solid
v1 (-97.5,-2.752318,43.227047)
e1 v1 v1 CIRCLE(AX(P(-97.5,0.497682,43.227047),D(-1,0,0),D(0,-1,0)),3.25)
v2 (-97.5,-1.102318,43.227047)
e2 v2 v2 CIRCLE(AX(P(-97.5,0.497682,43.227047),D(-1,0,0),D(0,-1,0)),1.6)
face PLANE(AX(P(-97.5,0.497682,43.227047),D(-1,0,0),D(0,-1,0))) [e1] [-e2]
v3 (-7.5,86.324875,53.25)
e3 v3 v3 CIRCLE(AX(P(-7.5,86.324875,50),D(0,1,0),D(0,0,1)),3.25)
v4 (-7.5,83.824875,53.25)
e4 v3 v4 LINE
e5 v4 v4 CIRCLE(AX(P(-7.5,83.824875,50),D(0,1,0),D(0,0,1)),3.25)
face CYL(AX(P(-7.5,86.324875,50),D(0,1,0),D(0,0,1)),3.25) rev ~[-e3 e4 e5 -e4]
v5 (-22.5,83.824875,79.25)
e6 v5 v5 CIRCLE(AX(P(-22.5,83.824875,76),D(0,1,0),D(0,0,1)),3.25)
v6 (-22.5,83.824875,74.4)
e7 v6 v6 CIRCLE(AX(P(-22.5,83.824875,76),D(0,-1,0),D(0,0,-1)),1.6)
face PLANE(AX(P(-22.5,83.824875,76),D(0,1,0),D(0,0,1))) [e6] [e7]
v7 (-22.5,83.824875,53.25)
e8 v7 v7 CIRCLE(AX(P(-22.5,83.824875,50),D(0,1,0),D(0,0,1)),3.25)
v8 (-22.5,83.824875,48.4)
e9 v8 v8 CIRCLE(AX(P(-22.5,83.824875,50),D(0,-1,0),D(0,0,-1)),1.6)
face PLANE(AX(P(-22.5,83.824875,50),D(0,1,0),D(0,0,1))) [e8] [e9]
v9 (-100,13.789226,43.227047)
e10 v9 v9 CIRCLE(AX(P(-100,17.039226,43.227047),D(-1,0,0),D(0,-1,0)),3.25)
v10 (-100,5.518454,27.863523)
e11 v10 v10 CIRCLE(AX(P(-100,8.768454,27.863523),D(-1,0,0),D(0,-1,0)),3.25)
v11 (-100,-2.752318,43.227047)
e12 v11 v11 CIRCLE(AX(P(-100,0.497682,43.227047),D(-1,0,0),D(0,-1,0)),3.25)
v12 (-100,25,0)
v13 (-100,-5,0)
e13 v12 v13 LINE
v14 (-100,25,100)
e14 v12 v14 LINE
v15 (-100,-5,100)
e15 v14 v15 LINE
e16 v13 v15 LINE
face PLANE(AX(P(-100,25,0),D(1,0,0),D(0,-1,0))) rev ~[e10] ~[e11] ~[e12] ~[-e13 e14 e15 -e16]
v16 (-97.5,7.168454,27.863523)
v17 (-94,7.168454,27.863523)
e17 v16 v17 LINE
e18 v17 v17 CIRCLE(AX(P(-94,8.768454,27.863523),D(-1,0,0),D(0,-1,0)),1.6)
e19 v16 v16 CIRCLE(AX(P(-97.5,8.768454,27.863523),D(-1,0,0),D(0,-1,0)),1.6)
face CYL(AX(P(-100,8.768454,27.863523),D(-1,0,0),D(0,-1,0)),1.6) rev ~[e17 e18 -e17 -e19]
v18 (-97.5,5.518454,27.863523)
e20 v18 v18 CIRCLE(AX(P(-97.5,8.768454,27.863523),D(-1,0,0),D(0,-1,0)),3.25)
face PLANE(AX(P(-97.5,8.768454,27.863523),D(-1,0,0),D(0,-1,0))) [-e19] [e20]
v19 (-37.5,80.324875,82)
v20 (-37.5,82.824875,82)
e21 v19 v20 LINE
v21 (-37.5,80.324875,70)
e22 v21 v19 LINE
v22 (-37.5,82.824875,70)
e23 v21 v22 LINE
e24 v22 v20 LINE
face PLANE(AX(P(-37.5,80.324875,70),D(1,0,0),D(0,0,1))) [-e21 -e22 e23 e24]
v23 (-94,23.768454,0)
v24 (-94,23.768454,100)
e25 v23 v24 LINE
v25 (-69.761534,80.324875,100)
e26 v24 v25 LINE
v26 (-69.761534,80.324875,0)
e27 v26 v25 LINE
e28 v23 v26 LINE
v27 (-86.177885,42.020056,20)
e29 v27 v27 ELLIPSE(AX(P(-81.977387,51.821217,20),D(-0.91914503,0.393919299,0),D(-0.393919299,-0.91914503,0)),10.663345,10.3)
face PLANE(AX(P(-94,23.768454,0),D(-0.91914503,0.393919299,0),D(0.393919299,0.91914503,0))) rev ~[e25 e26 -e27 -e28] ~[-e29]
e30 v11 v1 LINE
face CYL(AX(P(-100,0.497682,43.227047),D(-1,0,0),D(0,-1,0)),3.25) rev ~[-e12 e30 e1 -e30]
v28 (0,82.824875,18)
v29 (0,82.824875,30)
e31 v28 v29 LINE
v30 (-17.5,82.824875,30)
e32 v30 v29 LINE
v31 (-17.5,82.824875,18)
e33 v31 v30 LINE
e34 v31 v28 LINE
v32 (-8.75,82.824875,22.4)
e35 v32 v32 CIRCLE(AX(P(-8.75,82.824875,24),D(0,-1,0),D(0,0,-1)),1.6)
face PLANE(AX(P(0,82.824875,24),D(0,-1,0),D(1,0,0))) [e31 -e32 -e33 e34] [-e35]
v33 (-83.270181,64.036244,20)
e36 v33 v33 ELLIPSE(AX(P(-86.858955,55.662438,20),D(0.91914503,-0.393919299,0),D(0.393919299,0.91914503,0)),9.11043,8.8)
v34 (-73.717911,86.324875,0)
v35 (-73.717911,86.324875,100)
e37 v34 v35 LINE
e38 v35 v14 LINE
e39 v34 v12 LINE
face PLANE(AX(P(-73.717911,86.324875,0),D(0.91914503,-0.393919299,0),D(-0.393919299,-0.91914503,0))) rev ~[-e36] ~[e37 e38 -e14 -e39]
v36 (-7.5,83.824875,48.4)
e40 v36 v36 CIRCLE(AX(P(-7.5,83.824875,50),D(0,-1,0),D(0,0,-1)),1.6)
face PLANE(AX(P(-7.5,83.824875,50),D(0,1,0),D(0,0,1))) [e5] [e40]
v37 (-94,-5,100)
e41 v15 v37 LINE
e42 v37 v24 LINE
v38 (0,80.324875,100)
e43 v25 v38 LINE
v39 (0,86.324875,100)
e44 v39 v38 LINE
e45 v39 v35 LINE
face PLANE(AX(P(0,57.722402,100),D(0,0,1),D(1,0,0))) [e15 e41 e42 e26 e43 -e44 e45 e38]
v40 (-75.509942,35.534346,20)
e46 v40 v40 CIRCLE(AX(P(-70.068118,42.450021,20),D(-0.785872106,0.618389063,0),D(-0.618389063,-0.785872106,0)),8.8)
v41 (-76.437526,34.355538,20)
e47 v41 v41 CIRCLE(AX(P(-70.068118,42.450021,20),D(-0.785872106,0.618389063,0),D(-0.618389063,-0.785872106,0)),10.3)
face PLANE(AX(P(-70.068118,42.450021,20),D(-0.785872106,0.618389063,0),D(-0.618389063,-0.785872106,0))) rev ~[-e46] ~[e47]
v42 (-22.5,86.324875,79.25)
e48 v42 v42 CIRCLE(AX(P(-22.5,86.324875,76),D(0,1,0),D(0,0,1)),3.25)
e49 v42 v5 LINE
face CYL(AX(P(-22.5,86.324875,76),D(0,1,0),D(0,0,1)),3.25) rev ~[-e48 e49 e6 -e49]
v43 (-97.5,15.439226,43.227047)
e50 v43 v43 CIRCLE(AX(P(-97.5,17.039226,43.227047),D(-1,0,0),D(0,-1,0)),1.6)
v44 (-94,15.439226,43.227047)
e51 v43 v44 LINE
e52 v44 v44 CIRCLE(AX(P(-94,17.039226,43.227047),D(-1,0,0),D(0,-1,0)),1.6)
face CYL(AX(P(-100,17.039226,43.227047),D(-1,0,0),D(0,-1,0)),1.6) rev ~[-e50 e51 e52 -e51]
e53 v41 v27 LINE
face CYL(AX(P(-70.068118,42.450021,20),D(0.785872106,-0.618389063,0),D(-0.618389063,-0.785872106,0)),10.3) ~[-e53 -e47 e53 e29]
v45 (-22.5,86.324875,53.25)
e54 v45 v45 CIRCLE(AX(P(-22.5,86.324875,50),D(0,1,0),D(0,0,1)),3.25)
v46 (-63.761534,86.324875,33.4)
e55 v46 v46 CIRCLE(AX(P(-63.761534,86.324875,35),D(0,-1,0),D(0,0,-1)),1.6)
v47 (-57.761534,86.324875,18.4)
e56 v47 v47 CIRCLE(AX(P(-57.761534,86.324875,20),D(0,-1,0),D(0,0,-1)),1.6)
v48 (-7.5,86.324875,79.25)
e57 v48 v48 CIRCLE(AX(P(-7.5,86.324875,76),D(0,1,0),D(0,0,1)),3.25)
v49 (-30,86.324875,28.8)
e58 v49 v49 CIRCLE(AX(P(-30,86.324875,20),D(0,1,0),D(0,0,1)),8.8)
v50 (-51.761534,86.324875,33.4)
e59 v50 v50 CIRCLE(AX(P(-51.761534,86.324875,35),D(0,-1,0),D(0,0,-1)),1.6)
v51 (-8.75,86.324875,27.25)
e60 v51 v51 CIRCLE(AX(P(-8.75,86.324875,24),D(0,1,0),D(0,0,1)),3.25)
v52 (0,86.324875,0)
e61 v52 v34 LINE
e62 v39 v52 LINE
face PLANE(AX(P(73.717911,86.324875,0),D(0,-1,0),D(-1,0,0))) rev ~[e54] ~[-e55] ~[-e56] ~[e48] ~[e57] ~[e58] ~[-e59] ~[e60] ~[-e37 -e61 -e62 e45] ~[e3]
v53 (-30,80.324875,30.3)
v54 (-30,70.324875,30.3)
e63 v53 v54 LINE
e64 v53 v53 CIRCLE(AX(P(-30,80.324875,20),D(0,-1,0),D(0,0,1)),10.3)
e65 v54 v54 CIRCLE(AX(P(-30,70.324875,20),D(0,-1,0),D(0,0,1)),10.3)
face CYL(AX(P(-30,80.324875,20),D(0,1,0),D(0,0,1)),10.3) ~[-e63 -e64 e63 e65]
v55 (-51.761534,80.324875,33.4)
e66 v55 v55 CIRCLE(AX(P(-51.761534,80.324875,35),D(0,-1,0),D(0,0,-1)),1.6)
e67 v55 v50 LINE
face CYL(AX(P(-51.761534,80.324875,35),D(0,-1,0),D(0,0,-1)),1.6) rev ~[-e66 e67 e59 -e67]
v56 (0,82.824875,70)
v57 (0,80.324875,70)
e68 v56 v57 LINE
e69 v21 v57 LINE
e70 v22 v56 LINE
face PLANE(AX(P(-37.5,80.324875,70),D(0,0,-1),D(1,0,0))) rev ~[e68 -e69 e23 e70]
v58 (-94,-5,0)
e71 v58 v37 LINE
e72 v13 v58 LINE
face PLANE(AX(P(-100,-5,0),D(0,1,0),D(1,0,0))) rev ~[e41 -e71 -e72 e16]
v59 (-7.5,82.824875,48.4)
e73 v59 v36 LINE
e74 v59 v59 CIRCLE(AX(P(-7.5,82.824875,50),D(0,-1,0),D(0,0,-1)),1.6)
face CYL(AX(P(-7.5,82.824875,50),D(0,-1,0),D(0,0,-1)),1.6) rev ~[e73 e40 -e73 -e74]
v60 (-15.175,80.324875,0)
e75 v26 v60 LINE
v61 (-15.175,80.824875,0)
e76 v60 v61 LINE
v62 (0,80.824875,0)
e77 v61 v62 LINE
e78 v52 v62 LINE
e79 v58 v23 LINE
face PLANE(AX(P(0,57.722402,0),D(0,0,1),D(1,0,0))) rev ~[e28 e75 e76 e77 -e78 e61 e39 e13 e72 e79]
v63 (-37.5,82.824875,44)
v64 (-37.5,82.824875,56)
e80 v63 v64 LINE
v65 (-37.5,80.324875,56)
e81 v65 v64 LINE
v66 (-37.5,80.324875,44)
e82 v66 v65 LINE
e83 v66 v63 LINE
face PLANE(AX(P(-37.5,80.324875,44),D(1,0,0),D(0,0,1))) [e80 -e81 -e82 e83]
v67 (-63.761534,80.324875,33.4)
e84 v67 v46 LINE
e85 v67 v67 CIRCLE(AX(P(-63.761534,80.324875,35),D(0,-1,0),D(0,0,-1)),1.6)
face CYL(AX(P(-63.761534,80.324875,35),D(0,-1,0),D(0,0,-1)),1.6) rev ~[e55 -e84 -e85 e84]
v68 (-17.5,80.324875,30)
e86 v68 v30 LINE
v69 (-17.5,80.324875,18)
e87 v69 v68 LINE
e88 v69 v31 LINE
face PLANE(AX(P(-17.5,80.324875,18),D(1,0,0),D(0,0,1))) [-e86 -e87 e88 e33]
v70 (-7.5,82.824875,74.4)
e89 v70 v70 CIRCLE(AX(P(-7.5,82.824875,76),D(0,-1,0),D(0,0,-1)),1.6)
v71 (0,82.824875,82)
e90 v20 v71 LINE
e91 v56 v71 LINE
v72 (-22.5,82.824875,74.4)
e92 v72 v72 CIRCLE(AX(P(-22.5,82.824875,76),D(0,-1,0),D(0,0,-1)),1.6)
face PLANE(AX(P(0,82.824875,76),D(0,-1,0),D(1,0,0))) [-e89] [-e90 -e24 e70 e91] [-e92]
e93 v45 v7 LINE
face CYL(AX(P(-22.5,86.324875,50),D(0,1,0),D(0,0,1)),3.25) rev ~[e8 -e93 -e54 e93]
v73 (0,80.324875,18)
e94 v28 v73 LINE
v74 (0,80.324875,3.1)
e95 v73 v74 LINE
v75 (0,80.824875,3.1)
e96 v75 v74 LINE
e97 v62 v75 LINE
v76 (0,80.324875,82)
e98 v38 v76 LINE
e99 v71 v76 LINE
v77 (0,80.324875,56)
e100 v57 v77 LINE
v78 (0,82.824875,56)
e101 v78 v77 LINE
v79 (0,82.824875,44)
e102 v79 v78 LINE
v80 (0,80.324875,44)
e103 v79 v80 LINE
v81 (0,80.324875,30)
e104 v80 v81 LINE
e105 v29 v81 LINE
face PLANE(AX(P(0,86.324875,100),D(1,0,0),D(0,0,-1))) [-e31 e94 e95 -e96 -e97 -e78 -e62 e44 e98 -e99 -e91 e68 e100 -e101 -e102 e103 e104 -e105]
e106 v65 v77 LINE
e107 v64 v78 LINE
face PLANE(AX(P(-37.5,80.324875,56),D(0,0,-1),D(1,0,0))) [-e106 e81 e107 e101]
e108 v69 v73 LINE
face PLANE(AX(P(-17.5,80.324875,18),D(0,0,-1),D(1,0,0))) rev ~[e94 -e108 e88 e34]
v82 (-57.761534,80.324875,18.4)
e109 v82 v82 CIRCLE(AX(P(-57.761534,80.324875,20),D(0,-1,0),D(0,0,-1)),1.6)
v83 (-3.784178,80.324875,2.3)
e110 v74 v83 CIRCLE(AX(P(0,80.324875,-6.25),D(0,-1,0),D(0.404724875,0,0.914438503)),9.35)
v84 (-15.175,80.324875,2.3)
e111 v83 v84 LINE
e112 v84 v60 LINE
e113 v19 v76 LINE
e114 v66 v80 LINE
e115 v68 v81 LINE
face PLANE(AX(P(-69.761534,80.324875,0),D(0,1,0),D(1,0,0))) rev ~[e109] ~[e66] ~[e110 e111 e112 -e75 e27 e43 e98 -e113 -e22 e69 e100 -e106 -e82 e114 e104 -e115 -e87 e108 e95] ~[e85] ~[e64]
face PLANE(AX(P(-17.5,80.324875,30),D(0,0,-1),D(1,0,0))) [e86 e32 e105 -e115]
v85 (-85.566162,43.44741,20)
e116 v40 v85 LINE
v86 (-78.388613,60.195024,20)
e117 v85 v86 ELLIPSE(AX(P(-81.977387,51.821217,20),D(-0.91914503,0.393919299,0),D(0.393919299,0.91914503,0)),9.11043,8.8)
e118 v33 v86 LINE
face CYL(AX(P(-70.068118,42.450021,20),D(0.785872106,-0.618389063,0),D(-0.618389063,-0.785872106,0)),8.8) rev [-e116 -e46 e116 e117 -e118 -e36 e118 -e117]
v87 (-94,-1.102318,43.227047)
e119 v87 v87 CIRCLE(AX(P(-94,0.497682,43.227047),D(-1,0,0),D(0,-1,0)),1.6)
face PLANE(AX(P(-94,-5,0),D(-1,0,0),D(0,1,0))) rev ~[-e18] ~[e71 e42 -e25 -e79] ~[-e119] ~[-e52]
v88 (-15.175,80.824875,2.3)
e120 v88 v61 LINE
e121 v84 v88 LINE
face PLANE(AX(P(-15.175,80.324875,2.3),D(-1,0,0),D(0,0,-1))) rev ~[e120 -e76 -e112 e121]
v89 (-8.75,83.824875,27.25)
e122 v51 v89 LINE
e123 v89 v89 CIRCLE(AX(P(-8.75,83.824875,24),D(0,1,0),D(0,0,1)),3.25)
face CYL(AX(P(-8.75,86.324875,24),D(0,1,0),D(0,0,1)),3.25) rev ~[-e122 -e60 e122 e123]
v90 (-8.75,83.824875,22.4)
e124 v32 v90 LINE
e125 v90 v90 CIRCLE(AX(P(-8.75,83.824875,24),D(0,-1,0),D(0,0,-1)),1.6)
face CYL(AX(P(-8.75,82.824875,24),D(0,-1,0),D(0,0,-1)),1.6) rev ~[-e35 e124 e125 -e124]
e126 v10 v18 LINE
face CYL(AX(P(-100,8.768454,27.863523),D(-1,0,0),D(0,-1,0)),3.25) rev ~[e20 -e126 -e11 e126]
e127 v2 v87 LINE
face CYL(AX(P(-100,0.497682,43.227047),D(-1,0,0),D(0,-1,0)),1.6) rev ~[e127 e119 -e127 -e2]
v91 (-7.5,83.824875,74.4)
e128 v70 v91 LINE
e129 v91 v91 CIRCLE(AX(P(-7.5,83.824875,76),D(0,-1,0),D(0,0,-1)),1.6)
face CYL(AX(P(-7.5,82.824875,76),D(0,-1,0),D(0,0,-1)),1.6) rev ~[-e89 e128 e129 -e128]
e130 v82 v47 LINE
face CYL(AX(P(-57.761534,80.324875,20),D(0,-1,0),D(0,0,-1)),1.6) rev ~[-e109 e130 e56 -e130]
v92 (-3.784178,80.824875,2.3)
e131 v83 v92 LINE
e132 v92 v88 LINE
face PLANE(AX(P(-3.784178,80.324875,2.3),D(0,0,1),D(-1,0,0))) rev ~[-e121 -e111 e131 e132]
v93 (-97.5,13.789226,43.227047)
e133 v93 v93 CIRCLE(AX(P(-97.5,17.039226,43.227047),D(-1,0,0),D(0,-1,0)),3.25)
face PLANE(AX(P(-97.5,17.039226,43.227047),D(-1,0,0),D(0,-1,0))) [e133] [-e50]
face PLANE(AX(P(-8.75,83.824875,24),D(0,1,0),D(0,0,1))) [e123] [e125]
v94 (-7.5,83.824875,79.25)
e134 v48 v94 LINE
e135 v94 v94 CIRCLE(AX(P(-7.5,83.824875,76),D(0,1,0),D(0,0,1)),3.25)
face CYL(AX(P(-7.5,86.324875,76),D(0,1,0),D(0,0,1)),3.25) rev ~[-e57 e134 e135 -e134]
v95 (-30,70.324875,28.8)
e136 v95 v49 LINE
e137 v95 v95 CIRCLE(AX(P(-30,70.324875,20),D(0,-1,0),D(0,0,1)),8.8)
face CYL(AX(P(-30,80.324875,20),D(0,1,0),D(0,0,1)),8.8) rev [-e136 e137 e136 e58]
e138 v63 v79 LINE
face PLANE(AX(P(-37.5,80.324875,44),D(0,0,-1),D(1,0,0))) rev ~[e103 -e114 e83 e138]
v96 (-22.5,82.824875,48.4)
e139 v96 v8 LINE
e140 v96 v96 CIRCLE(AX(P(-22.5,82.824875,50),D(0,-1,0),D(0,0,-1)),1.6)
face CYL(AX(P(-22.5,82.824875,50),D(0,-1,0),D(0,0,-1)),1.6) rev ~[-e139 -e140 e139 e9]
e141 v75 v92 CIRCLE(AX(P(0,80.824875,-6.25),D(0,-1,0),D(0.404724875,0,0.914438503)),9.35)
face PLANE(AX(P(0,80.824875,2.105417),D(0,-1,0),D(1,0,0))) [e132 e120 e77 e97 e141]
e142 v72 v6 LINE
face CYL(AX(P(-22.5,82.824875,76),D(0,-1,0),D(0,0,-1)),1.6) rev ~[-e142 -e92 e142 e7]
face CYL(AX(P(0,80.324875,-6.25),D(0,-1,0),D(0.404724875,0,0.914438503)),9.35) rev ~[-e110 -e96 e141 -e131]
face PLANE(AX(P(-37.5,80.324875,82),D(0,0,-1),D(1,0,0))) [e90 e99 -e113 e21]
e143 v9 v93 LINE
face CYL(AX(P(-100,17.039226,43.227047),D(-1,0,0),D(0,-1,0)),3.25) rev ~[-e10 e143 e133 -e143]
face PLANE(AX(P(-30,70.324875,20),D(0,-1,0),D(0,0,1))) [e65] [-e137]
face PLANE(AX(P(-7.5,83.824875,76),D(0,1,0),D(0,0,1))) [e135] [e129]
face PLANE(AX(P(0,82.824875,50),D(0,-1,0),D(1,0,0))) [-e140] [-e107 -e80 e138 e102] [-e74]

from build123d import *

# Parameters (mm, degrees)
SALIENTE_EXTRUIR1_DEPTH = 100
CORTAR_EXTRUIR1_REACH   = 170.346
CROQUIS3_R              = 8.8
CORTAR_EXTRUIR2_REACH   = 226.945
CROQUIS4_R              = 8.8
CORTAR_EXTRUIR3_DEPTH   = 0.5
CORTAR_EXTRUIR4_REACH   = 241.691
CROQUIS6_R              = 1.6
CROQUIS7_R              = 3.25
CORTAR_EXTRUIR5_DEPTH   = 2.5
CROQUIS8_W              = 75
CROQUIS8_H              = 12
CROQUIS8_W_2            = 35
CORTAR_EXTRUIR6_DEPTH   = 2.5
CORTAR_EXTRUIR7_REACH   = 168.473
CROQUIS9_R              = 1.6
CROQUIS10_R             = 3.25
CORTAR_EXTRUIR8_DEPTH   = 2.5
CROQUIS11_R             = 10.3
CROQUIS11_R_2           = 8.8
SALIENTE_EXTRUIR2_DEPTH = 10
SALIENTE_EXTRUIR3_REACH = 201.802
CROQUIS12_R             = 10.3
CROQUIS12_R_2           = 8.8
CORTAR_EXTRUIR9_REACH   = 167.168
CROQUIS13_R             = 1.6
CROQUIS14_W             = 100
CROQUIS14_H             = 100
CORTAR_EXTRUIR10_DEPTH  = 169.345575526


with BuildPart() as part:
    # Croquis1 → Saliente-Extruir1 (new body)
    with BuildSketch(Plane.XY):
        Polygon((-100, 25), (-100, -5), (-94, -5), (-94, 23.768453788), (-69.761533754, 80.324875029), (69.761533754, 80.324875029), (94, 23.768453788), (94, -5), (100, -5), (100, 25), (73.717910702, 86.324875029), (-73.717910702, 86.324875029), align=None)
    extrude(amount=SALIENTE_EXTRUIR1_DEPTH)

    # Croquis3 → Cortar-Extruir1 (cut, up to next)
    with BuildSketch(Plane(origin=(0, 86.324875029, 0), x_dir=(1, 0, 0), z_dir=(0, 1, 0)), mode=Mode.PRIVATE) as cortar_extruir1_sk1:
        with Locations(Location((-30, -20, 0), (0, 0, 270))):
            Circle(CROQUIS3_R)
    cortar_extruir1_tool1 = extrude(cortar_extruir1_sk1.sketch, amount=-CORTAR_EXTRUIR1_REACH, mode=Mode.PRIVATE) & part.part
    # Croquis3 → Cortar-Extruir1 (cut, up to next)
    with BuildSketch(Plane(origin=(0, 86.324875029, 0), x_dir=(1, 0, 0), z_dir=(0, 1, 0)), mode=Mode.PRIVATE) as cortar_extruir1_sk2:
        with Locations(Location((30, -20, 0), (0, 0, 270))):
            Circle(CROQUIS3_R)
    cortar_extruir1_tool2 = extrude(cortar_extruir1_sk2.sketch, amount=-CORTAR_EXTRUIR1_REACH, mode=Mode.PRIVATE) & part.part
    add(cortar_extruir1_tool1.solids().sort_by_distance((-30, 86.324875, 20))[0], mode=Mode.SUBTRACT)
    add(cortar_extruir1_tool2.solids().sort_by_distance((30, 86.324875, 20))[0], mode=Mode.SUBTRACT)

    # Cortar-Extruir2: up to this plane
    cortar_extruir2_end = Plane(origin=(-94, 23.768453788, 100), z_dir=(-0.9191450300180581, 0.3939192985791672, 0))
    # Croquis4 → Cortar-Extruir2 (cut, up to the surface)
    with BuildSketch(Plane(origin=(-87.479517168, 68.836107355, 0), x_dir=(0, 0, -1), z_dir=(-0.7858721058939679, 0.6183890629512945, 0)), mode=Mode.PRIVATE) as cortar_extruir2_sk1:
        with Locations(Location((-20, 9.96907102, 0), (0, 0, 270))):
            Circle(CROQUIS4_R)
    cortar_extruir2_tool1 = split(extrude(cortar_extruir2_sk1.sketch, amount=-CORTAR_EXTRUIR2_REACH, mode=Mode.PRIVATE), bisect_by=cortar_extruir2_end, keep=Keep.BOTH, mode=Mode.PRIVATE)
    cortar_extruir2 = cortar_extruir2_tool1.solids().sort_by_distance((-93.644282, 61.001693, 20))[0]
    add(cortar_extruir2, mode=Mode.SUBTRACT)

    # Simetría1: Cortar-Extruir2 across plane
    add(cortar_extruir2.mirror(Plane(origin=(0, 0, 0), x_dir=(0, 0, 1), z_dir=(1, 0, 0))), mode=Mode.SUBTRACT)

    # Croquis5 → Cortar-Extruir3 (cut)
    with BuildSketch(Plane.XZ.offset(-80.324875029)):
        with BuildLine():
            Line((14.875, 0), (15.175, 0))
            Line((15.175, 0), (15.175, 2.3))
            Line((15.175, 2.3), (3.784177586, 2.3))
            ThreePointArc((3.784177586, 2.3), (0, 3.1), (-3.784177586, 2.3))
            Line((-3.784177586, 2.3), (-15.175, 2.3))
            Line((-15.175, 2.3), (-15.175, 0))
            Line((-15.175, 0), (-14.875, 0))
            Line((-14.875, 0), (-14.875, 2))
            Line((-14.875, 2), (-3.720215048, 2))
            ThreePointArc((-3.720215048, 2), (0, 2.8), (3.720215048, 2))
            Line((3.720215048, 2), (14.875, 2))
            Line((14.875, 2), (14.875, 0))
        make_face()
        with BuildLine():
            Line((3.261901286, 0), (14.875, 0))
            Line((14.875, 0), (14.875, 2))
            Line((14.875, 2), (3.720215048, 2))
            ThreePointArc((3.720215048, 2), (0, 2.8), (-3.720215048, 2))
            Line((-3.720215048, 2), (-14.875, 2))
            Line((-14.875, 2), (-14.875, 0))
            Line((-14.875, 0), (-3.261901286, 0))
            ThreePointArc((-3.261901286, 0), (0, 0.8), (3.261901286, 0))
        make_face()
        with BuildLine():
            Line((-3.261901286, 0), (3.261901286, 0))
            ThreePointArc((3.261901286, 0), (0, 0.8), (-3.261901286, 0))
        make_face()
    extrude(amount=-CORTAR_EXTRUIR3_DEPTH, mode=Mode.SUBTRACT)

    # Croquis6 → Cortar-Extruir4 (cut, up to next)
    with BuildSketch(Plane.ZY.offset(100), mode=Mode.PRIVATE) as cortar_extruir4_sk1:
        with Locations(Location((43.227046774, 0.497681725, 0), (0, 0, 270))):
            Circle(CROQUIS6_R)
    cortar_extruir4_tool1 = extrude(cortar_extruir4_sk1.sketch, amount=-CORTAR_EXTRUIR4_REACH, mode=Mode.PRIVATE) & part.part
    # Croquis6 → Cortar-Extruir4 (cut, up to next)
    with BuildSketch(Plane.ZY.offset(100), mode=Mode.PRIVATE) as cortar_extruir4_sk2:
        with Locations(Location((27.863523387, 8.768453788, 0), (0, 0, 270))):
            Circle(CROQUIS6_R)
    cortar_extruir4_tool2 = extrude(cortar_extruir4_sk2.sketch, amount=-CORTAR_EXTRUIR4_REACH, mode=Mode.PRIVATE) & part.part
    # Croquis6 → Cortar-Extruir4 (cut, up to next)
    with BuildSketch(Plane.ZY.offset(100), mode=Mode.PRIVATE) as cortar_extruir4_sk3:
        with Locations(Location((43.227046774, 17.039225851, 0), (0, 0, 270))):
            Circle(CROQUIS6_R)
    cortar_extruir4_tool3 = extrude(cortar_extruir4_sk3.sketch, amount=-CORTAR_EXTRUIR4_REACH, mode=Mode.PRIVATE) & part.part
    cortar_extruir4_1 = cortar_extruir4_tool1.solids().sort_by_distance((-100, 0.497682, 43.227047))[0]
    add(cortar_extruir4_1, mode=Mode.SUBTRACT)
    cortar_extruir4_2 = cortar_extruir4_tool2.solids().sort_by_distance((-100, 8.768454, 27.863523))[0]
    add(cortar_extruir4_2, mode=Mode.SUBTRACT)
    cortar_extruir4_3 = cortar_extruir4_tool3.solids().sort_by_distance((-100, 17.039226, 43.227047))[0]
    add(cortar_extruir4_3, mode=Mode.SUBTRACT)
    cortar_extruir4 = cortar_extruir4_1 + cortar_extruir4_2 + cortar_extruir4_3  # Cortar-Extruir4 as one shape, for the pattern or mirror that repeats it

    # Croquis7 → Cortar-Extruir5 (cut)
    with BuildSketch(Plane.ZY.offset(100)):
        with Locations(Location((27.863523387, 8.768453788, 0), (0, 0, 270))):
            Circle(CROQUIS7_R)
        with Locations(Location((43.227046774, 0.497681725, 0), (0, 0, 270))):
            Circle(CROQUIS7_R)
        with Locations(Location((43.227046774, 17.039225851, 0), (0, 0, 270))):
            Circle(CROQUIS7_R)
    cortar_extruir5 = extrude(amount=-CORTAR_EXTRUIR5_DEPTH, mode=Mode.SUBTRACT)

    # Simetría2: Cortar-Extruir4, Cortar-Extruir5 across plane
    add(cortar_extruir4.mirror(Plane(origin=(0, 0, 0), x_dir=(0, 0, 1), z_dir=(1, 0, 0))), mode=Mode.SUBTRACT)
    add(cortar_extruir5.mirror(Plane(origin=(0, 0, 0), x_dir=(0, 0, 1), z_dir=(1, 0, 0))), mode=Mode.SUBTRACT)

    # Croquis8 → Cortar-Extruir6 (cut)
    with BuildSketch(Plane.XZ.offset(-80.324875029)):
        with Locations((0, 76)):
            Rectangle(CROQUIS8_W, CROQUIS8_H)
        with Locations((0, 50)):
            Rectangle(CROQUIS8_W, CROQUIS8_H)
        with Locations((0, 24)):
            Rectangle(CROQUIS8_W_2, CROQUIS8_H)
    extrude(amount=-CORTAR_EXTRUIR6_DEPTH, mode=Mode.SUBTRACT)

    # Croquis9 → Cortar-Extruir7 (cut, up to next)
    with BuildSketch(Plane.XZ.offset(-82.824875029), mode=Mode.PRIVATE) as cortar_extruir7_sk1:
        with Locations(Location((-22.5, 76, 0), (0, 0, 270))):
            Circle(CROQUIS9_R)
    cortar_extruir7_tool1 = extrude(cortar_extruir7_sk1.sketch, amount=-CORTAR_EXTRUIR7_REACH, mode=Mode.PRIVATE) & part.part
    # Croquis9 → Cortar-Extruir7 (cut, up to next)
    with BuildSketch(Plane.XZ.offset(-82.824875029), mode=Mode.PRIVATE) as cortar_extruir7_sk2:
        with Locations(Location((-7.5, 76, 0), (0, 0, 270))):
            Circle(CROQUIS9_R)
    cortar_extruir7_tool2 = extrude(cortar_extruir7_sk2.sketch, amount=-CORTAR_EXTRUIR7_REACH, mode=Mode.PRIVATE) & part.part
    # Croquis9 → Cortar-Extruir7 (cut, up to next)
    with BuildSketch(Plane.XZ.offset(-82.824875029), mode=Mode.PRIVATE) as cortar_extruir7_sk3:
        with Locations(Location((7.5, 76, 0), (0, 0, 270))):
            Circle(CROQUIS9_R)
    cortar_extruir7_tool3 = extrude(cortar_extruir7_sk3.sketch, amount=-CORTAR_EXTRUIR7_REACH, mode=Mode.PRIVATE) & part.part
    # Croquis9 → Cortar-Extruir7 (cut, up to next)
    with BuildSketch(Plane.XZ.offset(-82.824875029), mode=Mode.PRIVATE) as cortar_extruir7_sk4:
        with Locations(Location((22.5, 76, 0), (0, 0, 270))):
            Circle(CROQUIS9_R)
    cortar_extruir7_tool4 = extrude(cortar_extruir7_sk4.sketch, amount=-CORTAR_EXTRUIR7_REACH, mode=Mode.PRIVATE) & part.part
    # Croquis9 → Cortar-Extruir7 (cut, up to next)
    with BuildSketch(Plane.XZ.offset(-82.824875029), mode=Mode.PRIVATE) as cortar_extruir7_sk5:
        with Locations(Location((-22.5, 50, 0), (0, 0, 270))):
            Circle(CROQUIS9_R)
    cortar_extruir7_tool5 = extrude(cortar_extruir7_sk5.sketch, amount=-CORTAR_EXTRUIR7_REACH, mode=Mode.PRIVATE) & part.part
    # Croquis9 → Cortar-Extruir7 (cut, up to next)
    with BuildSketch(Plane.XZ.offset(-82.824875029), mode=Mode.PRIVATE) as cortar_extruir7_sk6:
        with Locations(Location((-7.5, 50, 0), (0, 0, 270))):
            Circle(CROQUIS9_R)
    cortar_extruir7_tool6 = extrude(cortar_extruir7_sk6.sketch, amount=-CORTAR_EXTRUIR7_REACH, mode=Mode.PRIVATE) & part.part
    # Croquis9 → Cortar-Extruir7 (cut, up to next)
    with BuildSketch(Plane.XZ.offset(-82.824875029), mode=Mode.PRIVATE) as cortar_extruir7_sk7:
        with Locations(Location((7.5, 50, 0), (0, 0, 270))):
            Circle(CROQUIS9_R)
    cortar_extruir7_tool7 = extrude(cortar_extruir7_sk7.sketch, amount=-CORTAR_EXTRUIR7_REACH, mode=Mode.PRIVATE) & part.part
    # Croquis9 → Cortar-Extruir7 (cut, up to next)
    with BuildSketch(Plane.XZ.offset(-82.824875029), mode=Mode.PRIVATE) as cortar_extruir7_sk8:
        with Locations(Location((22.5, 50, 0), (0, 0, 270))):
            Circle(CROQUIS9_R)
    cortar_extruir7_tool8 = extrude(cortar_extruir7_sk8.sketch, amount=-CORTAR_EXTRUIR7_REACH, mode=Mode.PRIVATE) & part.part
    # Croquis9 → Cortar-Extruir7 (cut, up to next)
    with BuildSketch(Plane.XZ.offset(-82.824875029), mode=Mode.PRIVATE) as cortar_extruir7_sk9:
        with Locations(Location((-8.75, 24, 0), (0, 0, 270))):
            Circle(CROQUIS9_R)
    cortar_extruir7_tool9 = extrude(cortar_extruir7_sk9.sketch, amount=-CORTAR_EXTRUIR7_REACH, mode=Mode.PRIVATE) & part.part
    # Croquis9 → Cortar-Extruir7 (cut, up to next)
    with BuildSketch(Plane.XZ.offset(-82.824875029), mode=Mode.PRIVATE) as cortar_extruir7_sk10:
        with Locations(Location((8.75, 24, 0), (0, 0, 270))):
            Circle(CROQUIS9_R)
    cortar_extruir7_tool10 = extrude(cortar_extruir7_sk10.sketch, amount=-CORTAR_EXTRUIR7_REACH, mode=Mode.PRIVATE) & part.part
    add(cortar_extruir7_tool1.solids().sort_by_distance((-22.5, 82.824875, 76))[0], mode=Mode.SUBTRACT)
    add(cortar_extruir7_tool2.solids().sort_by_distance((-7.5, 82.824875, 76))[0], mode=Mode.SUBTRACT)
    add(cortar_extruir7_tool3.solids().sort_by_distance((7.5, 82.824875, 76))[0], mode=Mode.SUBTRACT)
    add(cortar_extruir7_tool4.solids().sort_by_distance((22.5, 82.824875, 76))[0], mode=Mode.SUBTRACT)
    add(cortar_extruir7_tool5.solids().sort_by_distance((-22.5, 82.824875, 50))[0], mode=Mode.SUBTRACT)
    add(cortar_extruir7_tool6.solids().sort_by_distance((-7.5, 82.824875, 50))[0], mode=Mode.SUBTRACT)
    add(cortar_extruir7_tool7.solids().sort_by_distance((7.5, 82.824875, 50))[0], mode=Mode.SUBTRACT)
    add(cortar_extruir7_tool8.solids().sort_by_distance((22.5, 82.824875, 50))[0], mode=Mode.SUBTRACT)
    add(cortar_extruir7_tool9.solids().sort_by_distance((-8.75, 82.824875, 24))[0], mode=Mode.SUBTRACT)
    add(cortar_extruir7_tool10.solids().sort_by_distance((8.75, 82.824875, 24))[0], mode=Mode.SUBTRACT)

    # Croquis10 → Cortar-Extruir8 (cut)
    with BuildSketch(Plane(origin=(0, 86.324875029, 0), x_dir=(1, 0, 0), z_dir=(0, 1, 0))):
        with Locations(Location((-22.5, -50, 0), (0, 0, 270))):
            Circle(CROQUIS10_R)
        with Locations(Location((-7.5, -50, 0), (0, 0, 270))):
            Circle(CROQUIS10_R)
        with Locations(Location((7.5, -50, 0), (0, 0, 270))):
            Circle(CROQUIS10_R)
        with Locations(Location((22.5, -50, 0), (0, 0, 270))):
            Circle(CROQUIS10_R)
        with Locations(Location((8.75, -24, 0), (0, 0, 270))):
            Circle(CROQUIS10_R)
        with Locations(Location((-8.75, -24, 0), (0, 0, 270))):
            Circle(CROQUIS10_R)
        with Locations(Location((22.5, -76, 0), (0, 0, 270))):
            Circle(CROQUIS10_R)
        with Locations(Location((7.5, -76, 0), (0, 0, 270))):
            Circle(CROQUIS10_R)
        with Locations(Location((-7.5, -76, 0), (0, 0, 270))):
            Circle(CROQUIS10_R)
        with Locations(Location((-22.5, -76, 0), (0, 0, 270))):
            Circle(CROQUIS10_R)
    extrude(amount=-CORTAR_EXTRUIR8_DEPTH, mode=Mode.SUBTRACT)

    # Croquis11 → Saliente-Extruir2 (add)
    with BuildSketch(Plane.XZ.offset(-80.324875029)):
        with Locations(Location((-30, 20, 0), (0, 0, 90))):
            Circle(CROQUIS11_R)
        with Locations(Location((-30, 20, 0), (0, 0, 90))):
            Circle(CROQUIS11_R_2, mode=Mode.SUBTRACT)
        with Locations(Location((30, 20, 0), (0, 0, 90))):
            Circle(CROQUIS11_R)
        with Locations(Location((30, 20, 0), (0, 0, 90))):
            Circle(CROQUIS11_R_2, mode=Mode.SUBTRACT)
    extrude(amount=SALIENTE_EXTRUIR2_DEPTH)

    # Saliente-Extruir3: up to this plane
    saliente_extruir3_end = Plane(origin=(-94, 23.768453788, 100), z_dir=(-0.9191450300180581, 0.3939192985791672, 0))
    # Croquis12 → Saliente-Extruir3 (add, up to the surface)
    with BuildSketch(Plane(origin=(-63.903353991, 50.284435467, 0), x_dir=(0, 0, -1), z_dir=(-0.7858721058939679, 0.6183890629512945, 0)), mode=Mode.PRIVATE) as saliente_extruir3_sk1:
        with Locations(Location((-20, 9.96907102, 0), (0, 0, 90))):
            Circle(CROQUIS12_R)
        with Locations(Location((-20, 9.96907102, 0), (0, 0, 90))):
            Circle(CROQUIS12_R_2, mode=Mode.SUBTRACT)
    saliente_extruir3_tool1 = split(extrude(saliente_extruir3_sk1.sketch, amount=SALIENTE_EXTRUIR3_REACH, mode=Mode.PRIVATE), bisect_by=saliente_extruir3_end, keep=Keep.BOTH, mode=Mode.PRIVATE)
    add(saliente_extruir3_tool1.solids().sort_by_distance((-63.878865, 50.315557, 20))[0])

    # Croquis13 → Cortar-Extruir9 (cut, up to next)
    with BuildSketch(Plane.XZ.offset(-80.324875029), mode=Mode.PRIVATE) as cortar_extruir9_sk1:
        with Locations(Location((57.761533754, 20, 0), (0, 0, 270))):
            Circle(CROQUIS13_R)
    cortar_extruir9_tool1 = extrude(cortar_extruir9_sk1.sketch, amount=-CORTAR_EXTRUIR9_REACH, mode=Mode.PRIVATE) & part.part
    # Croquis13 → Cortar-Extruir9 (cut, up to next)
    with BuildSketch(Plane.XZ.offset(-80.324875029), mode=Mode.PRIVATE) as cortar_extruir9_sk2:
        with Locations(Location((51.761533754, 35, 0), (0, 0, 270))):
            Circle(CROQUIS13_R)
    cortar_extruir9_tool2 = extrude(cortar_extruir9_sk2.sketch, amount=-CORTAR_EXTRUIR9_REACH, mode=Mode.PRIVATE) & part.part
    # Croquis13 → Cortar-Extruir9 (cut, up to next)
    with BuildSketch(Plane.XZ.offset(-80.324875029), mode=Mode.PRIVATE) as cortar_extruir9_sk3:
        with Locations(Location((63.761533754, 35, 0), (0, 0, 270))):
            Circle(CROQUIS13_R)
    cortar_extruir9_tool3 = extrude(cortar_extruir9_sk3.sketch, amount=-CORTAR_EXTRUIR9_REACH, mode=Mode.PRIVATE) & part.part
    # Croquis13 → Cortar-Extruir9 (cut, up to next)
    with BuildSketch(Plane.XZ.offset(-80.324875029), mode=Mode.PRIVATE) as cortar_extruir9_sk4:
        with Locations(Location((-57.761533754, 20, 0), (0, 0, 270))):
            Circle(CROQUIS13_R)
    cortar_extruir9_tool4 = extrude(cortar_extruir9_sk4.sketch, amount=-CORTAR_EXTRUIR9_REACH, mode=Mode.PRIVATE) & part.part
    # Croquis13 → Cortar-Extruir9 (cut, up to next)
    with BuildSketch(Plane.XZ.offset(-80.324875029), mode=Mode.PRIVATE) as cortar_extruir9_sk5:
        with Locations(Location((-63.761533754, 35, 0), (0, 0, 270))):
            Circle(CROQUIS13_R)
    cortar_extruir9_tool5 = extrude(cortar_extruir9_sk5.sketch, amount=-CORTAR_EXTRUIR9_REACH, mode=Mode.PRIVATE) & part.part
    # Croquis13 → Cortar-Extruir9 (cut, up to next)
    with BuildSketch(Plane.XZ.offset(-80.324875029), mode=Mode.PRIVATE) as cortar_extruir9_sk6:
        with Locations(Location((-51.761533754, 35, 0), (0, 0, 270))):
            Circle(CROQUIS13_R)
    cortar_extruir9_tool6 = extrude(cortar_extruir9_sk6.sketch, amount=-CORTAR_EXTRUIR9_REACH, mode=Mode.PRIVATE) & part.part
    add(cortar_extruir9_tool1.solids().sort_by_distance((57.761534, 80.324875, 20))[0], mode=Mode.SUBTRACT)
    add(cortar_extruir9_tool2.solids().sort_by_distance((51.761534, 80.324875, 35))[0], mode=Mode.SUBTRACT)
    add(cortar_extruir9_tool3.solids().sort_by_distance((63.761534, 80.324875, 35))[0], mode=Mode.SUBTRACT)
    add(cortar_extruir9_tool4.solids().sort_by_distance((-57.761534, 80.324875, 20))[0], mode=Mode.SUBTRACT)
    add(cortar_extruir9_tool5.solids().sort_by_distance((-63.761534, 80.324875, 35))[0], mode=Mode.SUBTRACT)
    add(cortar_extruir9_tool6.solids().sort_by_distance((-51.761534, 80.324875, 35))[0], mode=Mode.SUBTRACT)

    # Croquis14 → Cortar-Extruir10 (cut, through all)
    with BuildSketch(Plane(origin=(0, 86.324875029, 0), x_dir=(1, 0, 0), z_dir=(0, 1, 0))):
        with Locations((50, -50)):
            Rectangle(CROQUIS14_W, CROQUIS14_H)
    extrude(amount=-CORTAR_EXTRUIR10_DEPTH, mode=Mode.SUBTRACT)


solid = part.part
